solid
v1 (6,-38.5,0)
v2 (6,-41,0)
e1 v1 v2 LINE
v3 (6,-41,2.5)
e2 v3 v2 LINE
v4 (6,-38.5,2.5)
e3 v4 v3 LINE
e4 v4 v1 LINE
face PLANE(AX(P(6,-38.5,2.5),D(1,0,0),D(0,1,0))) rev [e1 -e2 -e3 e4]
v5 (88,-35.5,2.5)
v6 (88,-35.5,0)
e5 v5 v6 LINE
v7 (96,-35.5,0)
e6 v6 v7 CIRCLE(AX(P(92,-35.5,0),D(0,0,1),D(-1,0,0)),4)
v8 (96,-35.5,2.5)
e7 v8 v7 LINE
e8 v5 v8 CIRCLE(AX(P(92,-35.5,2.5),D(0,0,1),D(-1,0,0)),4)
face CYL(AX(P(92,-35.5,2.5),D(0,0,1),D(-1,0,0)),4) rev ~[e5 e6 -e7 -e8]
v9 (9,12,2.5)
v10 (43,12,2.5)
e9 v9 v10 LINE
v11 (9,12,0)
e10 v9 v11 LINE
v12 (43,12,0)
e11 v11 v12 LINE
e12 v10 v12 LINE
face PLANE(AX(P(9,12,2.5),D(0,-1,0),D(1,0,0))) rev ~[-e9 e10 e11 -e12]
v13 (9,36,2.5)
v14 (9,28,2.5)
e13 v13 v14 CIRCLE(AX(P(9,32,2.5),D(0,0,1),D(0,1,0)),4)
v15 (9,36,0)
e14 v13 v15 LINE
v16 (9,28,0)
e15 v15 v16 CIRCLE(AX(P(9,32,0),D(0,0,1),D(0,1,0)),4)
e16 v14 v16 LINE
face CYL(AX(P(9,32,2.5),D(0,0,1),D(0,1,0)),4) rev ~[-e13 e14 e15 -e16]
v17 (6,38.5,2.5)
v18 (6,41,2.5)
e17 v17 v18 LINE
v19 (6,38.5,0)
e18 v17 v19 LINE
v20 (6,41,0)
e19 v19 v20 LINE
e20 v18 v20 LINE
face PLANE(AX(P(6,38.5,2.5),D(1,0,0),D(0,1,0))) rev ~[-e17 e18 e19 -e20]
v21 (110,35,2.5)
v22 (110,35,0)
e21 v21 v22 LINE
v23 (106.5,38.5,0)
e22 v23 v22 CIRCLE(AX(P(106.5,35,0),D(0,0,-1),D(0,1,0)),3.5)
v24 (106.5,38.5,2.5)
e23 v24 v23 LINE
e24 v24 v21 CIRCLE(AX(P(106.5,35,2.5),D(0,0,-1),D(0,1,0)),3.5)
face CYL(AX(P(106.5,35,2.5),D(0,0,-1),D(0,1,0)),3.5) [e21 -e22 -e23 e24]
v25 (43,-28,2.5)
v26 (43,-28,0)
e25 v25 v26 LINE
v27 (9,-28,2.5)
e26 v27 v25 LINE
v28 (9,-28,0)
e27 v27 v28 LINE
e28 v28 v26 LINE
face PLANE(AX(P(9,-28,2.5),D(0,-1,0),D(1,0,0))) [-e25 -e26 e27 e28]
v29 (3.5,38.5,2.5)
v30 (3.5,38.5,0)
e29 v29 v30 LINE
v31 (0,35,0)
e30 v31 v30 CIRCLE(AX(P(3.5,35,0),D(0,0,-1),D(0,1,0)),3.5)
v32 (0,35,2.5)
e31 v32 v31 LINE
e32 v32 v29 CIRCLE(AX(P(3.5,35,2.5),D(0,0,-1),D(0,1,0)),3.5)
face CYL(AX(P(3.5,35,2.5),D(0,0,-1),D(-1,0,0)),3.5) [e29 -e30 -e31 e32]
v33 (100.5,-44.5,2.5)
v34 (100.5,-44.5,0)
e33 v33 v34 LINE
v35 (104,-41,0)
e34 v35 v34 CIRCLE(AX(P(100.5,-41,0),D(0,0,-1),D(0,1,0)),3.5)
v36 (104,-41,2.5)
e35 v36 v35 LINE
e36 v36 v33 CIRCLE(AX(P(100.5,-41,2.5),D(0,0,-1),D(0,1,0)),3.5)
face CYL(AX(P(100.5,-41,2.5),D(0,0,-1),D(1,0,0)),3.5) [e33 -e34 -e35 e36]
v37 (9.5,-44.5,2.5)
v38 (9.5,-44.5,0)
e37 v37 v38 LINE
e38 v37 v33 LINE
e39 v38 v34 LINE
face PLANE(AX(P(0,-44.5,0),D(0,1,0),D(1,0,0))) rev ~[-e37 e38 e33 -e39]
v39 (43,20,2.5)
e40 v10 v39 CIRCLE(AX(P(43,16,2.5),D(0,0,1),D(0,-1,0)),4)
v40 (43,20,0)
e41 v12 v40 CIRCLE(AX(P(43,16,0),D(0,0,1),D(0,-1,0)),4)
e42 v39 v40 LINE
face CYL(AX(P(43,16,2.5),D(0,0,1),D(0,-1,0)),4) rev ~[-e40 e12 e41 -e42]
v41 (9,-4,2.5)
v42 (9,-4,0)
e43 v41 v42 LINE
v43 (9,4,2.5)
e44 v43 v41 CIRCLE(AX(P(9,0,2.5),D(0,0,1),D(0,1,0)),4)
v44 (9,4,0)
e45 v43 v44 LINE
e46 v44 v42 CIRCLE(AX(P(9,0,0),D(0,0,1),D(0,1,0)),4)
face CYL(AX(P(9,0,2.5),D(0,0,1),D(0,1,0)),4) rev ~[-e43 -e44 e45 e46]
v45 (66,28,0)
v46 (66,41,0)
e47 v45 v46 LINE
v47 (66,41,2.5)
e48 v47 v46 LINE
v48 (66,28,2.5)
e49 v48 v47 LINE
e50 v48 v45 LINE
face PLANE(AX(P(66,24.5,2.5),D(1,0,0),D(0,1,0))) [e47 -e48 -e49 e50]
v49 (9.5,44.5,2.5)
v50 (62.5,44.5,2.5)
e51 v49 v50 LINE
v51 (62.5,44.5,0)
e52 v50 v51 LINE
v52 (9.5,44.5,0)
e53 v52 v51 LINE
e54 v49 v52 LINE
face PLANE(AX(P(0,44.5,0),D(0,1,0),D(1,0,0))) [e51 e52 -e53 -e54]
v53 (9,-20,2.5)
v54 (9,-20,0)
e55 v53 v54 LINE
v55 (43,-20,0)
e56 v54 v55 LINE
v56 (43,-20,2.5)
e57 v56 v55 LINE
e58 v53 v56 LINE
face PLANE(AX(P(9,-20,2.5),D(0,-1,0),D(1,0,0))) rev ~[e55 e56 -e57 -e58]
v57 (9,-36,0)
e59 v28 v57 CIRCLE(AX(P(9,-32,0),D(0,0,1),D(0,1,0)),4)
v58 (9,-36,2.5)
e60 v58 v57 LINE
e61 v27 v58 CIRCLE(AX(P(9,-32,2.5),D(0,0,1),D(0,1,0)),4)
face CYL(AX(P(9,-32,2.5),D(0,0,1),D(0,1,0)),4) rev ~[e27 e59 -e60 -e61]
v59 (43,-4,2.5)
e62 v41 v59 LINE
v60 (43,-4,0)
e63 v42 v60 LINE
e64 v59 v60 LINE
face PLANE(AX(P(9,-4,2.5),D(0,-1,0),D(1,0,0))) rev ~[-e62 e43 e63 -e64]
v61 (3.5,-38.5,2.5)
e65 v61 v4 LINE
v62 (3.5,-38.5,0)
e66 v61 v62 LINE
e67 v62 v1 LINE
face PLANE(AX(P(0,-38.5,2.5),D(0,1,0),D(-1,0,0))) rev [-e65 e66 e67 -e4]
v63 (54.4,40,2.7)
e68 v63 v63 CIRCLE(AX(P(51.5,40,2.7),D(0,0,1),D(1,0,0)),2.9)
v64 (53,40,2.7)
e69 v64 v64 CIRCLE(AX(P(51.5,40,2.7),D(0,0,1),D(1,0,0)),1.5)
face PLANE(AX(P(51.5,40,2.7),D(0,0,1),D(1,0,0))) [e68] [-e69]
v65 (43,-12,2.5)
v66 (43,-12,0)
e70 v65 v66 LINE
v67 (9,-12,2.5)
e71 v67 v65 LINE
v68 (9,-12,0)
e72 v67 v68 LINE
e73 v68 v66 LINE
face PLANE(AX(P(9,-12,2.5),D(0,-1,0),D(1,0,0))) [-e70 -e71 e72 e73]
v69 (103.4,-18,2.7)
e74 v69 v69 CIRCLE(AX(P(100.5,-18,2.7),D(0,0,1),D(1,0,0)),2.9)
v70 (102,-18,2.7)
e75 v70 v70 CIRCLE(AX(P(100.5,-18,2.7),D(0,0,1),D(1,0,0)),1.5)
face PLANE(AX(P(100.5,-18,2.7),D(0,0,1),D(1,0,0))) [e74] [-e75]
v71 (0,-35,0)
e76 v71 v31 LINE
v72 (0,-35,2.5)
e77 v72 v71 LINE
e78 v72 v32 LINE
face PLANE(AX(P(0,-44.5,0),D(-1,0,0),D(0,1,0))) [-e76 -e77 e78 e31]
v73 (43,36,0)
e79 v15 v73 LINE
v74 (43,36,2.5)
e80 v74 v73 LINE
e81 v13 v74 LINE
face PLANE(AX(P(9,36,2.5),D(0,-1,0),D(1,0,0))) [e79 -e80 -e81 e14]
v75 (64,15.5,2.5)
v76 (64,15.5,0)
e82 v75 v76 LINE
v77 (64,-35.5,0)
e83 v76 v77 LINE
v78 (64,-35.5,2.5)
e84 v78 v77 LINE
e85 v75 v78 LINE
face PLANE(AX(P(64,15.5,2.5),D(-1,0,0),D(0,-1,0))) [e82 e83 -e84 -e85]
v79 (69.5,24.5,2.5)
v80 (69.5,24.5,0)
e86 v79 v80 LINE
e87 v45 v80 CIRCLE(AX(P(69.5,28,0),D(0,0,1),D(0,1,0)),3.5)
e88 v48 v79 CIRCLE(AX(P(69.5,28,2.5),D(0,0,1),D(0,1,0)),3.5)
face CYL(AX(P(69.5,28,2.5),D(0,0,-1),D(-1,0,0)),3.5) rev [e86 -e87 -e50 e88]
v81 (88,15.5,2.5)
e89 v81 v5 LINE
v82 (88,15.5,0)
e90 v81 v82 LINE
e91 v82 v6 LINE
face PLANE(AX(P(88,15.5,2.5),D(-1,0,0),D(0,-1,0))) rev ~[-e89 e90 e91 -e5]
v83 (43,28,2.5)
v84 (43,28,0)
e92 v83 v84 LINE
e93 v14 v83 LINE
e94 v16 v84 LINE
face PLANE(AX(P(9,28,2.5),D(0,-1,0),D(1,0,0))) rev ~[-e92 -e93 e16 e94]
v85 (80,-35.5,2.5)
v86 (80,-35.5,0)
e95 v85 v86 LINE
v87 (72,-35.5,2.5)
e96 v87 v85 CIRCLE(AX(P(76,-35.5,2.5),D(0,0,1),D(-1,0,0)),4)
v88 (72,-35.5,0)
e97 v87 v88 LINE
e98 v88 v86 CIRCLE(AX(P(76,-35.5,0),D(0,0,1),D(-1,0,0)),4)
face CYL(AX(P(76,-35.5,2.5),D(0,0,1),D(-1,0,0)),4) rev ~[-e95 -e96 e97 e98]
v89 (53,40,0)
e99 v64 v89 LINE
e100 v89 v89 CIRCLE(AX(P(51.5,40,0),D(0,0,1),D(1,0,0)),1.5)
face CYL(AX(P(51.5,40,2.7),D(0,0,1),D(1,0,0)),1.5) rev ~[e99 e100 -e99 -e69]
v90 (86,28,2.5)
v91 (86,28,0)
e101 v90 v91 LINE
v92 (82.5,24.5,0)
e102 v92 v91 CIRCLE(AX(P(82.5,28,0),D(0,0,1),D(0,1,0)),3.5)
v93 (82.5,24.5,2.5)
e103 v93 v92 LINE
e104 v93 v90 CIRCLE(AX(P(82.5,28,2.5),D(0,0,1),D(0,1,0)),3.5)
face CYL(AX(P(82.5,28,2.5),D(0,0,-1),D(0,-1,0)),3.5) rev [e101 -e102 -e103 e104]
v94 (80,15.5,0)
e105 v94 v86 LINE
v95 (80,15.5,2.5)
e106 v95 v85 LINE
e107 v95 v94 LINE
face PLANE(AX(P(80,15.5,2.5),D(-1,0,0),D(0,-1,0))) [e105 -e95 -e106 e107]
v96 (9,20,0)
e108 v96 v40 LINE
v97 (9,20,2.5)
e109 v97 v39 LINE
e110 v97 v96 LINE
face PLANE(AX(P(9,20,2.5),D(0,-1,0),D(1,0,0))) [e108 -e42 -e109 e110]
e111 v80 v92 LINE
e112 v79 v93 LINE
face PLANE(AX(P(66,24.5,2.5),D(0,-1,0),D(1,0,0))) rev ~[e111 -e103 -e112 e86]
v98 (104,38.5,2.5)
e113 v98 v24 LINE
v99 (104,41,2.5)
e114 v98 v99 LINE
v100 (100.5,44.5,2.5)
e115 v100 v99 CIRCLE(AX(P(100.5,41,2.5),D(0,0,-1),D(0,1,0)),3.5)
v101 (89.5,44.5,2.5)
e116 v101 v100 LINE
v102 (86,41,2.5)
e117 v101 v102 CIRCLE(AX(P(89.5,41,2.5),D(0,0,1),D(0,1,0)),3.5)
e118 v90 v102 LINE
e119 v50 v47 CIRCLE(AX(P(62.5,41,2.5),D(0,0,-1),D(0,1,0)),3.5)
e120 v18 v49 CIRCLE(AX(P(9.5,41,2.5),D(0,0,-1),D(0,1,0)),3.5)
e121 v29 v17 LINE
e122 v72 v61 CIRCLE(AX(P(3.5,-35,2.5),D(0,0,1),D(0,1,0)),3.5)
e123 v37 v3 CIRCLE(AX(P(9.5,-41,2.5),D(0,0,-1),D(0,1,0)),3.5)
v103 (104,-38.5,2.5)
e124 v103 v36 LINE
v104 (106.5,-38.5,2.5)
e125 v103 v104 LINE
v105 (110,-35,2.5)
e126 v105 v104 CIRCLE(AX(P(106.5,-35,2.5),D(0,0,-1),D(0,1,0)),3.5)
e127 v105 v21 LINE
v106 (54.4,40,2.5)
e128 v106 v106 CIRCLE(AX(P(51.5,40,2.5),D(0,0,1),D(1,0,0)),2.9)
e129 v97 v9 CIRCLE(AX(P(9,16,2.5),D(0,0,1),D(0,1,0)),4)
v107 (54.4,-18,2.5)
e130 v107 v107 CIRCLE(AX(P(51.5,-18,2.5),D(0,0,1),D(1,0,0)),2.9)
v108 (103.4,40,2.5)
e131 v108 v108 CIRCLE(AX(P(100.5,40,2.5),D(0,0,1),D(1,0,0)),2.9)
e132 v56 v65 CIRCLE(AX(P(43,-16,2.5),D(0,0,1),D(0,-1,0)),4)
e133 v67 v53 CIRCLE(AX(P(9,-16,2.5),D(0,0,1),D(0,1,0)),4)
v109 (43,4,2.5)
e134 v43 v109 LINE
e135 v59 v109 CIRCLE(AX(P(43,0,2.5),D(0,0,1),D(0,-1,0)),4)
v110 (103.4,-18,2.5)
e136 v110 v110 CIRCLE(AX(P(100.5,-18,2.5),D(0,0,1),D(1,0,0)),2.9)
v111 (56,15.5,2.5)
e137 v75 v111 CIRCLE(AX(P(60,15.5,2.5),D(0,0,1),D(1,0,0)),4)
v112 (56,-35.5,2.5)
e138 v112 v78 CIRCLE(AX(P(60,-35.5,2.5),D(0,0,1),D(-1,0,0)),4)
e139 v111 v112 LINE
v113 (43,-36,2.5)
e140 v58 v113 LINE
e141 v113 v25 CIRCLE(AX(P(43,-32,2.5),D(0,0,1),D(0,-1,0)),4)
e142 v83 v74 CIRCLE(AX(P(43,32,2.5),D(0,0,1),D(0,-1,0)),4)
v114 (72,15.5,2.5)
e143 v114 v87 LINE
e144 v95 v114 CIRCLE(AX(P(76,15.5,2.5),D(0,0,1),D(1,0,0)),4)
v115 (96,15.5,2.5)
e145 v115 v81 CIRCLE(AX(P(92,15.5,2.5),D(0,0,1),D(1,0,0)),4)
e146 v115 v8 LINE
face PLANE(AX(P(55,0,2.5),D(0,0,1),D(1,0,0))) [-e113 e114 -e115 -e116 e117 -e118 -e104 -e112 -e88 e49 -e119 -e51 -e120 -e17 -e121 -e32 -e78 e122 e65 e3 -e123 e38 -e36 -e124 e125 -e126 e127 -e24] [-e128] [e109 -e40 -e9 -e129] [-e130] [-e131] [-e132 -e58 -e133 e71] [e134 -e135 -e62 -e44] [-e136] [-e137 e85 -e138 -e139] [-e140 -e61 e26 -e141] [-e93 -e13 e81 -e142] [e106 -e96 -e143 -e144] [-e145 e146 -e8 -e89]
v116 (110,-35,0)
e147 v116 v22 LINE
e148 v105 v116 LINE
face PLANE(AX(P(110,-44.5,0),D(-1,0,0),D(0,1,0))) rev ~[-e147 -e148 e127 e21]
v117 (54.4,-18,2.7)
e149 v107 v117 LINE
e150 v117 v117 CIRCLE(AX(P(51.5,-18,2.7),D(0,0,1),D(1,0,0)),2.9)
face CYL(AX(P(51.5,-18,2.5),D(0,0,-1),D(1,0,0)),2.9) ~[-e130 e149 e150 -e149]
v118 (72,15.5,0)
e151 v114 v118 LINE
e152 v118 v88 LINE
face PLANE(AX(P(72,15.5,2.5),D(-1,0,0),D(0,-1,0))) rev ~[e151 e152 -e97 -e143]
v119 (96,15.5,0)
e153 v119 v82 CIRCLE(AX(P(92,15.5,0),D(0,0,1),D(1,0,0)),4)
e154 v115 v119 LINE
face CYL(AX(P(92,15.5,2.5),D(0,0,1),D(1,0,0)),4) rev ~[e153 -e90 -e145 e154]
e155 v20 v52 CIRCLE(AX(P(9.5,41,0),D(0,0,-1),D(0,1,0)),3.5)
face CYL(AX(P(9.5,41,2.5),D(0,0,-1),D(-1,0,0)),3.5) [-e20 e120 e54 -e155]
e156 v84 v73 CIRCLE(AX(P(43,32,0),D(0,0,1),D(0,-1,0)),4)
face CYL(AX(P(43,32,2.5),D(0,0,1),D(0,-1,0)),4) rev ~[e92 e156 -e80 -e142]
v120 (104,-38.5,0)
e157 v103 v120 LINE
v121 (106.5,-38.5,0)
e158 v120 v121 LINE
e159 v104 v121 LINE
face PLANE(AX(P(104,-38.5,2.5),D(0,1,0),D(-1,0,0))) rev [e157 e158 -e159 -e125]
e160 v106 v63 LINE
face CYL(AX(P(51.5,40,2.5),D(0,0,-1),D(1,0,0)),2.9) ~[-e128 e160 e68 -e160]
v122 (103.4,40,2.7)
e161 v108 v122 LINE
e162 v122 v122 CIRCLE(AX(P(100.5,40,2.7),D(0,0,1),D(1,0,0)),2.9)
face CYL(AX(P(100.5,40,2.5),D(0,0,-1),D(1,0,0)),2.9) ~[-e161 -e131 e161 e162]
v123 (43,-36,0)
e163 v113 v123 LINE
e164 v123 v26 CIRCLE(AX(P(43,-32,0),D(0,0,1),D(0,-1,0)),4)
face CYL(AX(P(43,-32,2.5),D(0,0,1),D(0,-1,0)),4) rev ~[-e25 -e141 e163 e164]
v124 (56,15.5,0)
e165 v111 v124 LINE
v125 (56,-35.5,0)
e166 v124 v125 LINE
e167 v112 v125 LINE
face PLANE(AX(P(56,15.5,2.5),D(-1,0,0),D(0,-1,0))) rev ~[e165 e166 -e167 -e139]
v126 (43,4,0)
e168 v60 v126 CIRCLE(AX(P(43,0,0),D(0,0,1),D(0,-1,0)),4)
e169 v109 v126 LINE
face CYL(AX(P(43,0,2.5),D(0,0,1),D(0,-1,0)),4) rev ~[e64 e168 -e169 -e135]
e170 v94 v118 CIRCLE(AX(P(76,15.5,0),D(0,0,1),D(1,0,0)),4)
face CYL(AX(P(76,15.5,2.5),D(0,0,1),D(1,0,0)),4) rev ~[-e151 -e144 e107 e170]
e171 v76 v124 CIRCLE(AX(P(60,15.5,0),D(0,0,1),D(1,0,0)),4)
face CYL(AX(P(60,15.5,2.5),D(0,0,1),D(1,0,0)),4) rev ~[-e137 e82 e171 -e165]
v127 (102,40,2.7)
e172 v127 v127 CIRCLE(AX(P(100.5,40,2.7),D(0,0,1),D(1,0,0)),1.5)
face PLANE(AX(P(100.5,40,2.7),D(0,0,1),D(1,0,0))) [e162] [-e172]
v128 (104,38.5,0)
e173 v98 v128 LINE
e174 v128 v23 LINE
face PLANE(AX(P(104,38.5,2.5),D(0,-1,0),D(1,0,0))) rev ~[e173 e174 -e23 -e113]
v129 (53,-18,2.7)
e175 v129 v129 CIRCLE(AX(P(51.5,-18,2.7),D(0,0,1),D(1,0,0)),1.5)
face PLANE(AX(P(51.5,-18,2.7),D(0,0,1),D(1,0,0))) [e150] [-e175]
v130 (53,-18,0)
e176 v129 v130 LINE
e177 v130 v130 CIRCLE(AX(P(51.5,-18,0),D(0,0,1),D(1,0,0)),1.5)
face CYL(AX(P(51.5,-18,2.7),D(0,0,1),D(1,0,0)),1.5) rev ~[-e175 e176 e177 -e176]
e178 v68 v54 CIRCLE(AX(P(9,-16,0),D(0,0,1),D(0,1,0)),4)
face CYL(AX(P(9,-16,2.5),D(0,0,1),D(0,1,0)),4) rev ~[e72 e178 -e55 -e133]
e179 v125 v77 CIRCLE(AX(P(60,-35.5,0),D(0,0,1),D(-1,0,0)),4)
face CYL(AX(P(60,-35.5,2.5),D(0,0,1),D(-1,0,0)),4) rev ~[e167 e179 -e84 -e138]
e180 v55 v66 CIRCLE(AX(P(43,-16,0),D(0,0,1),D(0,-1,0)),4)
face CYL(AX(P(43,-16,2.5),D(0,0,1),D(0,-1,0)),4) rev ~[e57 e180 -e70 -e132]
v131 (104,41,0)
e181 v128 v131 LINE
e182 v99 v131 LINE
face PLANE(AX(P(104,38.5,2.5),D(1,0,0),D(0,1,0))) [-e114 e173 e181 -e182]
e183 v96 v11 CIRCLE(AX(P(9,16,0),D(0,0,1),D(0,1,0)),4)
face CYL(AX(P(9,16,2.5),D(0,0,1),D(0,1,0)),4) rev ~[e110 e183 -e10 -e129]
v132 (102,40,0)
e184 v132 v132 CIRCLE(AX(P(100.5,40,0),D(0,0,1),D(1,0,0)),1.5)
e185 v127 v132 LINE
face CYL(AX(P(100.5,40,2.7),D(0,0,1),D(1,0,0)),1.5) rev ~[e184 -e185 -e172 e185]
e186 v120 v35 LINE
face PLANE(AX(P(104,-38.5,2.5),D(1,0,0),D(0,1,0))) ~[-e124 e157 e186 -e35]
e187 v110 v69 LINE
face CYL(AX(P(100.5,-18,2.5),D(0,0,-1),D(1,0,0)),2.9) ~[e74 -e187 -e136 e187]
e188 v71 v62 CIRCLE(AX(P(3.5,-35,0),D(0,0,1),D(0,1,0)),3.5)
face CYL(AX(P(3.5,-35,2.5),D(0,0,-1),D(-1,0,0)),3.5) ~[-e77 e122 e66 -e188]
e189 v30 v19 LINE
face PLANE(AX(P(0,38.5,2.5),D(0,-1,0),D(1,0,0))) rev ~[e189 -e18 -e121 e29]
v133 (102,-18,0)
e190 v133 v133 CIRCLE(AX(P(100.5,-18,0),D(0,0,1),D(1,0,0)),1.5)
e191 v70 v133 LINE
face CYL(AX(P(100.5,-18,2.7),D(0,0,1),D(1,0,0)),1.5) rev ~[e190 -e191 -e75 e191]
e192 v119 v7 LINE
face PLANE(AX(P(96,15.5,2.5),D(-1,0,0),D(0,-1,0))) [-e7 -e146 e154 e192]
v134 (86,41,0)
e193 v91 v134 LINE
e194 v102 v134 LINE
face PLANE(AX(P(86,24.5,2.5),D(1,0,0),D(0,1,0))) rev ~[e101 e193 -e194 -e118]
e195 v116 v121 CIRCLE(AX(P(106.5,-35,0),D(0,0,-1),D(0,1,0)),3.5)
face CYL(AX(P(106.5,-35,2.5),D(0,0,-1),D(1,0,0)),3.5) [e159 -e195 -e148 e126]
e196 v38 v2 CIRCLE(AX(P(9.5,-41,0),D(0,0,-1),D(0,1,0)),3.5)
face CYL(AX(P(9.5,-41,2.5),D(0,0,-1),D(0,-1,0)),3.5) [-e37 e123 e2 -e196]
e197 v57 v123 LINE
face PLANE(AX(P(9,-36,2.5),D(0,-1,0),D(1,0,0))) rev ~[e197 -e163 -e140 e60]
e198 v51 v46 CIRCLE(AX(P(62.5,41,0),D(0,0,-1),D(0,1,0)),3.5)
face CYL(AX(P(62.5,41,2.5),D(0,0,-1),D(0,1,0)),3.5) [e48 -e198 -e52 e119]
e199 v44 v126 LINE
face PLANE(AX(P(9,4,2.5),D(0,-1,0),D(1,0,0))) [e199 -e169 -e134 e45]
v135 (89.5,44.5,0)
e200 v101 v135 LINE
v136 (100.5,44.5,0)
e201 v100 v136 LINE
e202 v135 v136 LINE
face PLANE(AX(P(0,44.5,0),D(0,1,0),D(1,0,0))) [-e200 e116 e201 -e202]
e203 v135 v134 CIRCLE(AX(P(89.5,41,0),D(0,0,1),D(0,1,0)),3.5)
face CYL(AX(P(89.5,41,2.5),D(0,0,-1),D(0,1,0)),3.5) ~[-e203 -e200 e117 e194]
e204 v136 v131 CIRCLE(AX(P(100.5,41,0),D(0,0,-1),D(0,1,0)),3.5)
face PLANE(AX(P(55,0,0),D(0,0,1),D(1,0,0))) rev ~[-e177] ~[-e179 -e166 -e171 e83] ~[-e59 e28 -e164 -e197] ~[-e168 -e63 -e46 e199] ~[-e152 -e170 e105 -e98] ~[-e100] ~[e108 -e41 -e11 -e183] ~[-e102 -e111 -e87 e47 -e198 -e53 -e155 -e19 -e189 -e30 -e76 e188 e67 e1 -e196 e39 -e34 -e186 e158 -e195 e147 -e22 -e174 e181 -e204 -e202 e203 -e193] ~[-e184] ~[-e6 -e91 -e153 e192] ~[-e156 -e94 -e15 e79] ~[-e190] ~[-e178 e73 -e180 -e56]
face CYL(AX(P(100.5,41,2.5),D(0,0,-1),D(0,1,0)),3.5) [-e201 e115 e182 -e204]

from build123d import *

# Parameters (mm, degrees)
SKETCH_W                           = 110
SKETCH_H                           = 89
PAD_DEPTH                          = 2.5
SKETCH001_R                        = 2.9
PAD001_DEPTH                       = 0.2
SKETCH002_R                        = 1.5
POCKET_DEPTH                       = 2.701
SKETCH003_W                        = 20
SKETCH003_H                        = 20
POCKET001_DEPTH                    = 2.501
POCKET002_DEPTH                    = 285.543682
POCKET002_LINEARPATTERN_2_DEPTH    = 285.543682
LINEARPATTERN001_COUNT             = 2
LINEARPATTERN001_PITCH             = 16
POCKET003_DEPTH                    = 285.543682
POCKET003_LINEARPATTERN002_2_DEPTH = 285.543682
POCKET003_LINEARPATTERN002_3_DEPTH = 285.543682
LINEARPATTERN003_COUNT             = 3
LINEARPATTERN003_PITCH             = 16
FILLET_R                           = 3.5
SKETCH006_W                        = 6
SKETCH006_H                        = 6
POCKET004_DEPTH                    = 285.543682
FILLET001_R                        = 3.5


with BuildPart() as part:
    # Sketch → Pad (new body)
    with BuildSketch(Plane.XY):
        with Locations((55, 0)):
            Rectangle(SKETCH_W, SKETCH_H)
    extrude(amount=PAD_DEPTH)

    # Sketch001 (on Face6 of Pad) → Pad001 (join)
    with BuildSketch(Plane.XY.offset(2.5)):
        with Locations((100.5, 40)):
            Circle(SKETCH001_R)
        with Locations((100.5, -18)):
            Circle(SKETCH001_R)
        with Locations((51.5, 40)):
            Circle(SKETCH001_R)
        with Locations((51.5, -18)):
            Circle(SKETCH001_R)
    extrude(amount=PAD001_DEPTH)

    # Sketch002 (on Face13 of Pad001) → Pocket (cut, through all)
    with BuildSketch(Plane.XY.offset(2.7)):
        with Locations((51.5, 40)):
            Circle(SKETCH002_R)
        with Locations((100.5, 40)):
            Circle(SKETCH002_R)
        with Locations((51.5, -18)):
            Circle(SKETCH002_R)
        with Locations((100.5, -18)):
            Circle(SKETCH002_R)
    extrude(amount=-POCKET_DEPTH, mode=Mode.SUBTRACT)

    # Sketch003 → Pocket001 (cut, through all)
    with BuildSketch(Plane.XY.offset(2.5)):
        with Locations((76, 34.5)):
            Rectangle(SKETCH003_W, SKETCH003_H)
    extrude(amount=-POCKET001_DEPTH, mode=Mode.SUBTRACT)

    # Sketch004 (on Face5 of Pocket001) → Pocket002 (cut, through all)
    with BuildSketch(Plane.XY.offset(2.5)):
        with BuildLine():
            ThreePointArc((80, 15.5), (76, 19.5), (72, 15.5))
            Line((72, 15.5), (72, -35.5))
            ThreePointArc((72, -35.5), (76, -39.5), (80, -35.5))
            Line((80, 15.5), (80, -35.5))
        make_face()
    pocket002 = extrude(amount=-POCKET002_DEPTH, mode=Mode.SUBTRACT)

    # Sketch004 LinearPattern 2 → Pocket002 LinearPattern 2 (cut, through all)
    with BuildSketch(Plane(origin=(16, 0, 2.5), x_dir=(1, 0, 0), z_dir=(0, 0, 1))):
        with BuildLine():
            ThreePointArc((80, 15.5), (76, 19.5), (72, 15.5))
            Line((72, 15.5), (72, -35.5))
            ThreePointArc((72, -35.5), (76, -39.5), (80, -35.5))
            Line((80, 15.5), (80, -35.5))
        make_face()
    pocket002_linearpattern_2 = extrude(amount=-POCKET002_LINEARPATTERN_2_DEPTH, mode=Mode.SUBTRACT)

    # LinearPattern001: Pocket002, Pocket002 LinearPattern 2 ×2
    with Locations(*[(-i * LINEARPATTERN001_PITCH, 0, 0) for i in range(1, LINEARPATTERN001_COUNT)]):
        add(pocket002, mode=Mode.SUBTRACT)
        add(pocket002_linearpattern_2, mode=Mode.SUBTRACT)

    # Sketch005 (on Face5 of MultiTransform) → Pocket003 (cut, through all)
    with BuildSketch(Plane.XY.offset(2.5)):
        with BuildLine():
            ThreePointArc((9, 4), (5, 0), (9, -4))
            Line((9, -4), (43, -4))
            ThreePointArc((43, -4), (47, 0), (43, 4))
            Line((9, 4), (43, 4))
        make_face()
    pocket003 = extrude(amount=-POCKET003_DEPTH, mode=Mode.SUBTRACT)

    # Sketch005 LinearPattern002 2 → Pocket003 LinearPattern002 2 (cut, through all)
    with BuildSketch(Plane(origin=(0, 16, 2.5), x_dir=(1, 0, 0), z_dir=(0, 0, 1))):
        with BuildLine():
            ThreePointArc((9, 4), (5, 0), (9, -4))
            Line((9, -4), (43, -4))
            ThreePointArc((43, -4), (47, 0), (43, 4))
            Line((9, 4), (43, 4))
        make_face()
    pocket003_linearpattern002_2 = extrude(amount=-POCKET003_LINEARPATTERN002_2_DEPTH, mode=Mode.SUBTRACT)

    # Sketch005 LinearPattern002 3 → Pocket003 LinearPattern002 3 (cut, through all)
    with BuildSketch(Plane(origin=(0, 32, 2.5), x_dir=(1, 0, 0), z_dir=(0, 0, 1))):
        with BuildLine():
            ThreePointArc((9, 4), (5, 0), (9, -4))
            Line((9, -4), (43, -4))
            ThreePointArc((43, -4), (47, 0), (43, 4))
            Line((9, 4), (43, 4))
        make_face()
    pocket003_linearpattern002_3 = extrude(amount=-POCKET003_LINEARPATTERN002_3_DEPTH, mode=Mode.SUBTRACT)

    # LinearPattern003: Pocket003, Pocket003 LinearPattern002 2, Pocket003 LinearPattern002 3 ×3
    with Locations(*[(0, -i * LINEARPATTERN003_PITCH, 0) for i in range(1, LINEARPATTERN003_COUNT)]):
        add(pocket003, mode=Mode.SUBTRACT)
        add(pocket003_linearpattern002_2, mode=Mode.SUBTRACT)
        add(pocket003_linearpattern002_3, mode=Mode.SUBTRACT)

    # Fillet
    fillet_edges = [part.edges().sort_by_distance(p)[0] for p in [
        (110, 44.5, 1.25),
        (66, 44.5, 1.25),
        (66, 24.5, 1.25),
        (110, -44.5, 1.25),
        (86, 44.5, 1.25),
        (86, 24.5, 1.25),
        (0, 44.5, 1.25),
        (0, -44.5, 1.25),
    ]]
    fillet(fillet_edges, radius=FILLET_R)

    # Sketch006 (on Face5 of Fillet) → Pocket004 (cut, through all)
    with BuildSketch(Plane.XY.offset(2.5)):
        with Locations((107, 41.5)):
            Rectangle(SKETCH006_W, SKETCH006_H)
        with Locations((3, 41.5)):
            Rectangle(SKETCH006_W, SKETCH006_H)
    pocket004 = extrude(amount=-POCKET004_DEPTH, mode=Mode.SUBTRACT)

    # Mirrored: Pocket004 across XZ
    add(pocket004.mirror(Plane.XZ), mode=Mode.SUBTRACT)

    # Fillet001
    fillet001_edges = [part.edges().sort_by_distance(p)[0] for p in [
        (110, -38.5, 1.25),
        (104, -44.5, 1.25),
        (110, 38.5, 1.25),
        (104, 44.5, 1.25),
        (6, 44.5, 1.25),
        (0, 38.5, 1.25),
        (0, -38.5, 1.25),
        (6, -44.5, 1.25),
    ]]
    fillet(fillet001_edges, radius=FILLET001_R)


solid = part.part
